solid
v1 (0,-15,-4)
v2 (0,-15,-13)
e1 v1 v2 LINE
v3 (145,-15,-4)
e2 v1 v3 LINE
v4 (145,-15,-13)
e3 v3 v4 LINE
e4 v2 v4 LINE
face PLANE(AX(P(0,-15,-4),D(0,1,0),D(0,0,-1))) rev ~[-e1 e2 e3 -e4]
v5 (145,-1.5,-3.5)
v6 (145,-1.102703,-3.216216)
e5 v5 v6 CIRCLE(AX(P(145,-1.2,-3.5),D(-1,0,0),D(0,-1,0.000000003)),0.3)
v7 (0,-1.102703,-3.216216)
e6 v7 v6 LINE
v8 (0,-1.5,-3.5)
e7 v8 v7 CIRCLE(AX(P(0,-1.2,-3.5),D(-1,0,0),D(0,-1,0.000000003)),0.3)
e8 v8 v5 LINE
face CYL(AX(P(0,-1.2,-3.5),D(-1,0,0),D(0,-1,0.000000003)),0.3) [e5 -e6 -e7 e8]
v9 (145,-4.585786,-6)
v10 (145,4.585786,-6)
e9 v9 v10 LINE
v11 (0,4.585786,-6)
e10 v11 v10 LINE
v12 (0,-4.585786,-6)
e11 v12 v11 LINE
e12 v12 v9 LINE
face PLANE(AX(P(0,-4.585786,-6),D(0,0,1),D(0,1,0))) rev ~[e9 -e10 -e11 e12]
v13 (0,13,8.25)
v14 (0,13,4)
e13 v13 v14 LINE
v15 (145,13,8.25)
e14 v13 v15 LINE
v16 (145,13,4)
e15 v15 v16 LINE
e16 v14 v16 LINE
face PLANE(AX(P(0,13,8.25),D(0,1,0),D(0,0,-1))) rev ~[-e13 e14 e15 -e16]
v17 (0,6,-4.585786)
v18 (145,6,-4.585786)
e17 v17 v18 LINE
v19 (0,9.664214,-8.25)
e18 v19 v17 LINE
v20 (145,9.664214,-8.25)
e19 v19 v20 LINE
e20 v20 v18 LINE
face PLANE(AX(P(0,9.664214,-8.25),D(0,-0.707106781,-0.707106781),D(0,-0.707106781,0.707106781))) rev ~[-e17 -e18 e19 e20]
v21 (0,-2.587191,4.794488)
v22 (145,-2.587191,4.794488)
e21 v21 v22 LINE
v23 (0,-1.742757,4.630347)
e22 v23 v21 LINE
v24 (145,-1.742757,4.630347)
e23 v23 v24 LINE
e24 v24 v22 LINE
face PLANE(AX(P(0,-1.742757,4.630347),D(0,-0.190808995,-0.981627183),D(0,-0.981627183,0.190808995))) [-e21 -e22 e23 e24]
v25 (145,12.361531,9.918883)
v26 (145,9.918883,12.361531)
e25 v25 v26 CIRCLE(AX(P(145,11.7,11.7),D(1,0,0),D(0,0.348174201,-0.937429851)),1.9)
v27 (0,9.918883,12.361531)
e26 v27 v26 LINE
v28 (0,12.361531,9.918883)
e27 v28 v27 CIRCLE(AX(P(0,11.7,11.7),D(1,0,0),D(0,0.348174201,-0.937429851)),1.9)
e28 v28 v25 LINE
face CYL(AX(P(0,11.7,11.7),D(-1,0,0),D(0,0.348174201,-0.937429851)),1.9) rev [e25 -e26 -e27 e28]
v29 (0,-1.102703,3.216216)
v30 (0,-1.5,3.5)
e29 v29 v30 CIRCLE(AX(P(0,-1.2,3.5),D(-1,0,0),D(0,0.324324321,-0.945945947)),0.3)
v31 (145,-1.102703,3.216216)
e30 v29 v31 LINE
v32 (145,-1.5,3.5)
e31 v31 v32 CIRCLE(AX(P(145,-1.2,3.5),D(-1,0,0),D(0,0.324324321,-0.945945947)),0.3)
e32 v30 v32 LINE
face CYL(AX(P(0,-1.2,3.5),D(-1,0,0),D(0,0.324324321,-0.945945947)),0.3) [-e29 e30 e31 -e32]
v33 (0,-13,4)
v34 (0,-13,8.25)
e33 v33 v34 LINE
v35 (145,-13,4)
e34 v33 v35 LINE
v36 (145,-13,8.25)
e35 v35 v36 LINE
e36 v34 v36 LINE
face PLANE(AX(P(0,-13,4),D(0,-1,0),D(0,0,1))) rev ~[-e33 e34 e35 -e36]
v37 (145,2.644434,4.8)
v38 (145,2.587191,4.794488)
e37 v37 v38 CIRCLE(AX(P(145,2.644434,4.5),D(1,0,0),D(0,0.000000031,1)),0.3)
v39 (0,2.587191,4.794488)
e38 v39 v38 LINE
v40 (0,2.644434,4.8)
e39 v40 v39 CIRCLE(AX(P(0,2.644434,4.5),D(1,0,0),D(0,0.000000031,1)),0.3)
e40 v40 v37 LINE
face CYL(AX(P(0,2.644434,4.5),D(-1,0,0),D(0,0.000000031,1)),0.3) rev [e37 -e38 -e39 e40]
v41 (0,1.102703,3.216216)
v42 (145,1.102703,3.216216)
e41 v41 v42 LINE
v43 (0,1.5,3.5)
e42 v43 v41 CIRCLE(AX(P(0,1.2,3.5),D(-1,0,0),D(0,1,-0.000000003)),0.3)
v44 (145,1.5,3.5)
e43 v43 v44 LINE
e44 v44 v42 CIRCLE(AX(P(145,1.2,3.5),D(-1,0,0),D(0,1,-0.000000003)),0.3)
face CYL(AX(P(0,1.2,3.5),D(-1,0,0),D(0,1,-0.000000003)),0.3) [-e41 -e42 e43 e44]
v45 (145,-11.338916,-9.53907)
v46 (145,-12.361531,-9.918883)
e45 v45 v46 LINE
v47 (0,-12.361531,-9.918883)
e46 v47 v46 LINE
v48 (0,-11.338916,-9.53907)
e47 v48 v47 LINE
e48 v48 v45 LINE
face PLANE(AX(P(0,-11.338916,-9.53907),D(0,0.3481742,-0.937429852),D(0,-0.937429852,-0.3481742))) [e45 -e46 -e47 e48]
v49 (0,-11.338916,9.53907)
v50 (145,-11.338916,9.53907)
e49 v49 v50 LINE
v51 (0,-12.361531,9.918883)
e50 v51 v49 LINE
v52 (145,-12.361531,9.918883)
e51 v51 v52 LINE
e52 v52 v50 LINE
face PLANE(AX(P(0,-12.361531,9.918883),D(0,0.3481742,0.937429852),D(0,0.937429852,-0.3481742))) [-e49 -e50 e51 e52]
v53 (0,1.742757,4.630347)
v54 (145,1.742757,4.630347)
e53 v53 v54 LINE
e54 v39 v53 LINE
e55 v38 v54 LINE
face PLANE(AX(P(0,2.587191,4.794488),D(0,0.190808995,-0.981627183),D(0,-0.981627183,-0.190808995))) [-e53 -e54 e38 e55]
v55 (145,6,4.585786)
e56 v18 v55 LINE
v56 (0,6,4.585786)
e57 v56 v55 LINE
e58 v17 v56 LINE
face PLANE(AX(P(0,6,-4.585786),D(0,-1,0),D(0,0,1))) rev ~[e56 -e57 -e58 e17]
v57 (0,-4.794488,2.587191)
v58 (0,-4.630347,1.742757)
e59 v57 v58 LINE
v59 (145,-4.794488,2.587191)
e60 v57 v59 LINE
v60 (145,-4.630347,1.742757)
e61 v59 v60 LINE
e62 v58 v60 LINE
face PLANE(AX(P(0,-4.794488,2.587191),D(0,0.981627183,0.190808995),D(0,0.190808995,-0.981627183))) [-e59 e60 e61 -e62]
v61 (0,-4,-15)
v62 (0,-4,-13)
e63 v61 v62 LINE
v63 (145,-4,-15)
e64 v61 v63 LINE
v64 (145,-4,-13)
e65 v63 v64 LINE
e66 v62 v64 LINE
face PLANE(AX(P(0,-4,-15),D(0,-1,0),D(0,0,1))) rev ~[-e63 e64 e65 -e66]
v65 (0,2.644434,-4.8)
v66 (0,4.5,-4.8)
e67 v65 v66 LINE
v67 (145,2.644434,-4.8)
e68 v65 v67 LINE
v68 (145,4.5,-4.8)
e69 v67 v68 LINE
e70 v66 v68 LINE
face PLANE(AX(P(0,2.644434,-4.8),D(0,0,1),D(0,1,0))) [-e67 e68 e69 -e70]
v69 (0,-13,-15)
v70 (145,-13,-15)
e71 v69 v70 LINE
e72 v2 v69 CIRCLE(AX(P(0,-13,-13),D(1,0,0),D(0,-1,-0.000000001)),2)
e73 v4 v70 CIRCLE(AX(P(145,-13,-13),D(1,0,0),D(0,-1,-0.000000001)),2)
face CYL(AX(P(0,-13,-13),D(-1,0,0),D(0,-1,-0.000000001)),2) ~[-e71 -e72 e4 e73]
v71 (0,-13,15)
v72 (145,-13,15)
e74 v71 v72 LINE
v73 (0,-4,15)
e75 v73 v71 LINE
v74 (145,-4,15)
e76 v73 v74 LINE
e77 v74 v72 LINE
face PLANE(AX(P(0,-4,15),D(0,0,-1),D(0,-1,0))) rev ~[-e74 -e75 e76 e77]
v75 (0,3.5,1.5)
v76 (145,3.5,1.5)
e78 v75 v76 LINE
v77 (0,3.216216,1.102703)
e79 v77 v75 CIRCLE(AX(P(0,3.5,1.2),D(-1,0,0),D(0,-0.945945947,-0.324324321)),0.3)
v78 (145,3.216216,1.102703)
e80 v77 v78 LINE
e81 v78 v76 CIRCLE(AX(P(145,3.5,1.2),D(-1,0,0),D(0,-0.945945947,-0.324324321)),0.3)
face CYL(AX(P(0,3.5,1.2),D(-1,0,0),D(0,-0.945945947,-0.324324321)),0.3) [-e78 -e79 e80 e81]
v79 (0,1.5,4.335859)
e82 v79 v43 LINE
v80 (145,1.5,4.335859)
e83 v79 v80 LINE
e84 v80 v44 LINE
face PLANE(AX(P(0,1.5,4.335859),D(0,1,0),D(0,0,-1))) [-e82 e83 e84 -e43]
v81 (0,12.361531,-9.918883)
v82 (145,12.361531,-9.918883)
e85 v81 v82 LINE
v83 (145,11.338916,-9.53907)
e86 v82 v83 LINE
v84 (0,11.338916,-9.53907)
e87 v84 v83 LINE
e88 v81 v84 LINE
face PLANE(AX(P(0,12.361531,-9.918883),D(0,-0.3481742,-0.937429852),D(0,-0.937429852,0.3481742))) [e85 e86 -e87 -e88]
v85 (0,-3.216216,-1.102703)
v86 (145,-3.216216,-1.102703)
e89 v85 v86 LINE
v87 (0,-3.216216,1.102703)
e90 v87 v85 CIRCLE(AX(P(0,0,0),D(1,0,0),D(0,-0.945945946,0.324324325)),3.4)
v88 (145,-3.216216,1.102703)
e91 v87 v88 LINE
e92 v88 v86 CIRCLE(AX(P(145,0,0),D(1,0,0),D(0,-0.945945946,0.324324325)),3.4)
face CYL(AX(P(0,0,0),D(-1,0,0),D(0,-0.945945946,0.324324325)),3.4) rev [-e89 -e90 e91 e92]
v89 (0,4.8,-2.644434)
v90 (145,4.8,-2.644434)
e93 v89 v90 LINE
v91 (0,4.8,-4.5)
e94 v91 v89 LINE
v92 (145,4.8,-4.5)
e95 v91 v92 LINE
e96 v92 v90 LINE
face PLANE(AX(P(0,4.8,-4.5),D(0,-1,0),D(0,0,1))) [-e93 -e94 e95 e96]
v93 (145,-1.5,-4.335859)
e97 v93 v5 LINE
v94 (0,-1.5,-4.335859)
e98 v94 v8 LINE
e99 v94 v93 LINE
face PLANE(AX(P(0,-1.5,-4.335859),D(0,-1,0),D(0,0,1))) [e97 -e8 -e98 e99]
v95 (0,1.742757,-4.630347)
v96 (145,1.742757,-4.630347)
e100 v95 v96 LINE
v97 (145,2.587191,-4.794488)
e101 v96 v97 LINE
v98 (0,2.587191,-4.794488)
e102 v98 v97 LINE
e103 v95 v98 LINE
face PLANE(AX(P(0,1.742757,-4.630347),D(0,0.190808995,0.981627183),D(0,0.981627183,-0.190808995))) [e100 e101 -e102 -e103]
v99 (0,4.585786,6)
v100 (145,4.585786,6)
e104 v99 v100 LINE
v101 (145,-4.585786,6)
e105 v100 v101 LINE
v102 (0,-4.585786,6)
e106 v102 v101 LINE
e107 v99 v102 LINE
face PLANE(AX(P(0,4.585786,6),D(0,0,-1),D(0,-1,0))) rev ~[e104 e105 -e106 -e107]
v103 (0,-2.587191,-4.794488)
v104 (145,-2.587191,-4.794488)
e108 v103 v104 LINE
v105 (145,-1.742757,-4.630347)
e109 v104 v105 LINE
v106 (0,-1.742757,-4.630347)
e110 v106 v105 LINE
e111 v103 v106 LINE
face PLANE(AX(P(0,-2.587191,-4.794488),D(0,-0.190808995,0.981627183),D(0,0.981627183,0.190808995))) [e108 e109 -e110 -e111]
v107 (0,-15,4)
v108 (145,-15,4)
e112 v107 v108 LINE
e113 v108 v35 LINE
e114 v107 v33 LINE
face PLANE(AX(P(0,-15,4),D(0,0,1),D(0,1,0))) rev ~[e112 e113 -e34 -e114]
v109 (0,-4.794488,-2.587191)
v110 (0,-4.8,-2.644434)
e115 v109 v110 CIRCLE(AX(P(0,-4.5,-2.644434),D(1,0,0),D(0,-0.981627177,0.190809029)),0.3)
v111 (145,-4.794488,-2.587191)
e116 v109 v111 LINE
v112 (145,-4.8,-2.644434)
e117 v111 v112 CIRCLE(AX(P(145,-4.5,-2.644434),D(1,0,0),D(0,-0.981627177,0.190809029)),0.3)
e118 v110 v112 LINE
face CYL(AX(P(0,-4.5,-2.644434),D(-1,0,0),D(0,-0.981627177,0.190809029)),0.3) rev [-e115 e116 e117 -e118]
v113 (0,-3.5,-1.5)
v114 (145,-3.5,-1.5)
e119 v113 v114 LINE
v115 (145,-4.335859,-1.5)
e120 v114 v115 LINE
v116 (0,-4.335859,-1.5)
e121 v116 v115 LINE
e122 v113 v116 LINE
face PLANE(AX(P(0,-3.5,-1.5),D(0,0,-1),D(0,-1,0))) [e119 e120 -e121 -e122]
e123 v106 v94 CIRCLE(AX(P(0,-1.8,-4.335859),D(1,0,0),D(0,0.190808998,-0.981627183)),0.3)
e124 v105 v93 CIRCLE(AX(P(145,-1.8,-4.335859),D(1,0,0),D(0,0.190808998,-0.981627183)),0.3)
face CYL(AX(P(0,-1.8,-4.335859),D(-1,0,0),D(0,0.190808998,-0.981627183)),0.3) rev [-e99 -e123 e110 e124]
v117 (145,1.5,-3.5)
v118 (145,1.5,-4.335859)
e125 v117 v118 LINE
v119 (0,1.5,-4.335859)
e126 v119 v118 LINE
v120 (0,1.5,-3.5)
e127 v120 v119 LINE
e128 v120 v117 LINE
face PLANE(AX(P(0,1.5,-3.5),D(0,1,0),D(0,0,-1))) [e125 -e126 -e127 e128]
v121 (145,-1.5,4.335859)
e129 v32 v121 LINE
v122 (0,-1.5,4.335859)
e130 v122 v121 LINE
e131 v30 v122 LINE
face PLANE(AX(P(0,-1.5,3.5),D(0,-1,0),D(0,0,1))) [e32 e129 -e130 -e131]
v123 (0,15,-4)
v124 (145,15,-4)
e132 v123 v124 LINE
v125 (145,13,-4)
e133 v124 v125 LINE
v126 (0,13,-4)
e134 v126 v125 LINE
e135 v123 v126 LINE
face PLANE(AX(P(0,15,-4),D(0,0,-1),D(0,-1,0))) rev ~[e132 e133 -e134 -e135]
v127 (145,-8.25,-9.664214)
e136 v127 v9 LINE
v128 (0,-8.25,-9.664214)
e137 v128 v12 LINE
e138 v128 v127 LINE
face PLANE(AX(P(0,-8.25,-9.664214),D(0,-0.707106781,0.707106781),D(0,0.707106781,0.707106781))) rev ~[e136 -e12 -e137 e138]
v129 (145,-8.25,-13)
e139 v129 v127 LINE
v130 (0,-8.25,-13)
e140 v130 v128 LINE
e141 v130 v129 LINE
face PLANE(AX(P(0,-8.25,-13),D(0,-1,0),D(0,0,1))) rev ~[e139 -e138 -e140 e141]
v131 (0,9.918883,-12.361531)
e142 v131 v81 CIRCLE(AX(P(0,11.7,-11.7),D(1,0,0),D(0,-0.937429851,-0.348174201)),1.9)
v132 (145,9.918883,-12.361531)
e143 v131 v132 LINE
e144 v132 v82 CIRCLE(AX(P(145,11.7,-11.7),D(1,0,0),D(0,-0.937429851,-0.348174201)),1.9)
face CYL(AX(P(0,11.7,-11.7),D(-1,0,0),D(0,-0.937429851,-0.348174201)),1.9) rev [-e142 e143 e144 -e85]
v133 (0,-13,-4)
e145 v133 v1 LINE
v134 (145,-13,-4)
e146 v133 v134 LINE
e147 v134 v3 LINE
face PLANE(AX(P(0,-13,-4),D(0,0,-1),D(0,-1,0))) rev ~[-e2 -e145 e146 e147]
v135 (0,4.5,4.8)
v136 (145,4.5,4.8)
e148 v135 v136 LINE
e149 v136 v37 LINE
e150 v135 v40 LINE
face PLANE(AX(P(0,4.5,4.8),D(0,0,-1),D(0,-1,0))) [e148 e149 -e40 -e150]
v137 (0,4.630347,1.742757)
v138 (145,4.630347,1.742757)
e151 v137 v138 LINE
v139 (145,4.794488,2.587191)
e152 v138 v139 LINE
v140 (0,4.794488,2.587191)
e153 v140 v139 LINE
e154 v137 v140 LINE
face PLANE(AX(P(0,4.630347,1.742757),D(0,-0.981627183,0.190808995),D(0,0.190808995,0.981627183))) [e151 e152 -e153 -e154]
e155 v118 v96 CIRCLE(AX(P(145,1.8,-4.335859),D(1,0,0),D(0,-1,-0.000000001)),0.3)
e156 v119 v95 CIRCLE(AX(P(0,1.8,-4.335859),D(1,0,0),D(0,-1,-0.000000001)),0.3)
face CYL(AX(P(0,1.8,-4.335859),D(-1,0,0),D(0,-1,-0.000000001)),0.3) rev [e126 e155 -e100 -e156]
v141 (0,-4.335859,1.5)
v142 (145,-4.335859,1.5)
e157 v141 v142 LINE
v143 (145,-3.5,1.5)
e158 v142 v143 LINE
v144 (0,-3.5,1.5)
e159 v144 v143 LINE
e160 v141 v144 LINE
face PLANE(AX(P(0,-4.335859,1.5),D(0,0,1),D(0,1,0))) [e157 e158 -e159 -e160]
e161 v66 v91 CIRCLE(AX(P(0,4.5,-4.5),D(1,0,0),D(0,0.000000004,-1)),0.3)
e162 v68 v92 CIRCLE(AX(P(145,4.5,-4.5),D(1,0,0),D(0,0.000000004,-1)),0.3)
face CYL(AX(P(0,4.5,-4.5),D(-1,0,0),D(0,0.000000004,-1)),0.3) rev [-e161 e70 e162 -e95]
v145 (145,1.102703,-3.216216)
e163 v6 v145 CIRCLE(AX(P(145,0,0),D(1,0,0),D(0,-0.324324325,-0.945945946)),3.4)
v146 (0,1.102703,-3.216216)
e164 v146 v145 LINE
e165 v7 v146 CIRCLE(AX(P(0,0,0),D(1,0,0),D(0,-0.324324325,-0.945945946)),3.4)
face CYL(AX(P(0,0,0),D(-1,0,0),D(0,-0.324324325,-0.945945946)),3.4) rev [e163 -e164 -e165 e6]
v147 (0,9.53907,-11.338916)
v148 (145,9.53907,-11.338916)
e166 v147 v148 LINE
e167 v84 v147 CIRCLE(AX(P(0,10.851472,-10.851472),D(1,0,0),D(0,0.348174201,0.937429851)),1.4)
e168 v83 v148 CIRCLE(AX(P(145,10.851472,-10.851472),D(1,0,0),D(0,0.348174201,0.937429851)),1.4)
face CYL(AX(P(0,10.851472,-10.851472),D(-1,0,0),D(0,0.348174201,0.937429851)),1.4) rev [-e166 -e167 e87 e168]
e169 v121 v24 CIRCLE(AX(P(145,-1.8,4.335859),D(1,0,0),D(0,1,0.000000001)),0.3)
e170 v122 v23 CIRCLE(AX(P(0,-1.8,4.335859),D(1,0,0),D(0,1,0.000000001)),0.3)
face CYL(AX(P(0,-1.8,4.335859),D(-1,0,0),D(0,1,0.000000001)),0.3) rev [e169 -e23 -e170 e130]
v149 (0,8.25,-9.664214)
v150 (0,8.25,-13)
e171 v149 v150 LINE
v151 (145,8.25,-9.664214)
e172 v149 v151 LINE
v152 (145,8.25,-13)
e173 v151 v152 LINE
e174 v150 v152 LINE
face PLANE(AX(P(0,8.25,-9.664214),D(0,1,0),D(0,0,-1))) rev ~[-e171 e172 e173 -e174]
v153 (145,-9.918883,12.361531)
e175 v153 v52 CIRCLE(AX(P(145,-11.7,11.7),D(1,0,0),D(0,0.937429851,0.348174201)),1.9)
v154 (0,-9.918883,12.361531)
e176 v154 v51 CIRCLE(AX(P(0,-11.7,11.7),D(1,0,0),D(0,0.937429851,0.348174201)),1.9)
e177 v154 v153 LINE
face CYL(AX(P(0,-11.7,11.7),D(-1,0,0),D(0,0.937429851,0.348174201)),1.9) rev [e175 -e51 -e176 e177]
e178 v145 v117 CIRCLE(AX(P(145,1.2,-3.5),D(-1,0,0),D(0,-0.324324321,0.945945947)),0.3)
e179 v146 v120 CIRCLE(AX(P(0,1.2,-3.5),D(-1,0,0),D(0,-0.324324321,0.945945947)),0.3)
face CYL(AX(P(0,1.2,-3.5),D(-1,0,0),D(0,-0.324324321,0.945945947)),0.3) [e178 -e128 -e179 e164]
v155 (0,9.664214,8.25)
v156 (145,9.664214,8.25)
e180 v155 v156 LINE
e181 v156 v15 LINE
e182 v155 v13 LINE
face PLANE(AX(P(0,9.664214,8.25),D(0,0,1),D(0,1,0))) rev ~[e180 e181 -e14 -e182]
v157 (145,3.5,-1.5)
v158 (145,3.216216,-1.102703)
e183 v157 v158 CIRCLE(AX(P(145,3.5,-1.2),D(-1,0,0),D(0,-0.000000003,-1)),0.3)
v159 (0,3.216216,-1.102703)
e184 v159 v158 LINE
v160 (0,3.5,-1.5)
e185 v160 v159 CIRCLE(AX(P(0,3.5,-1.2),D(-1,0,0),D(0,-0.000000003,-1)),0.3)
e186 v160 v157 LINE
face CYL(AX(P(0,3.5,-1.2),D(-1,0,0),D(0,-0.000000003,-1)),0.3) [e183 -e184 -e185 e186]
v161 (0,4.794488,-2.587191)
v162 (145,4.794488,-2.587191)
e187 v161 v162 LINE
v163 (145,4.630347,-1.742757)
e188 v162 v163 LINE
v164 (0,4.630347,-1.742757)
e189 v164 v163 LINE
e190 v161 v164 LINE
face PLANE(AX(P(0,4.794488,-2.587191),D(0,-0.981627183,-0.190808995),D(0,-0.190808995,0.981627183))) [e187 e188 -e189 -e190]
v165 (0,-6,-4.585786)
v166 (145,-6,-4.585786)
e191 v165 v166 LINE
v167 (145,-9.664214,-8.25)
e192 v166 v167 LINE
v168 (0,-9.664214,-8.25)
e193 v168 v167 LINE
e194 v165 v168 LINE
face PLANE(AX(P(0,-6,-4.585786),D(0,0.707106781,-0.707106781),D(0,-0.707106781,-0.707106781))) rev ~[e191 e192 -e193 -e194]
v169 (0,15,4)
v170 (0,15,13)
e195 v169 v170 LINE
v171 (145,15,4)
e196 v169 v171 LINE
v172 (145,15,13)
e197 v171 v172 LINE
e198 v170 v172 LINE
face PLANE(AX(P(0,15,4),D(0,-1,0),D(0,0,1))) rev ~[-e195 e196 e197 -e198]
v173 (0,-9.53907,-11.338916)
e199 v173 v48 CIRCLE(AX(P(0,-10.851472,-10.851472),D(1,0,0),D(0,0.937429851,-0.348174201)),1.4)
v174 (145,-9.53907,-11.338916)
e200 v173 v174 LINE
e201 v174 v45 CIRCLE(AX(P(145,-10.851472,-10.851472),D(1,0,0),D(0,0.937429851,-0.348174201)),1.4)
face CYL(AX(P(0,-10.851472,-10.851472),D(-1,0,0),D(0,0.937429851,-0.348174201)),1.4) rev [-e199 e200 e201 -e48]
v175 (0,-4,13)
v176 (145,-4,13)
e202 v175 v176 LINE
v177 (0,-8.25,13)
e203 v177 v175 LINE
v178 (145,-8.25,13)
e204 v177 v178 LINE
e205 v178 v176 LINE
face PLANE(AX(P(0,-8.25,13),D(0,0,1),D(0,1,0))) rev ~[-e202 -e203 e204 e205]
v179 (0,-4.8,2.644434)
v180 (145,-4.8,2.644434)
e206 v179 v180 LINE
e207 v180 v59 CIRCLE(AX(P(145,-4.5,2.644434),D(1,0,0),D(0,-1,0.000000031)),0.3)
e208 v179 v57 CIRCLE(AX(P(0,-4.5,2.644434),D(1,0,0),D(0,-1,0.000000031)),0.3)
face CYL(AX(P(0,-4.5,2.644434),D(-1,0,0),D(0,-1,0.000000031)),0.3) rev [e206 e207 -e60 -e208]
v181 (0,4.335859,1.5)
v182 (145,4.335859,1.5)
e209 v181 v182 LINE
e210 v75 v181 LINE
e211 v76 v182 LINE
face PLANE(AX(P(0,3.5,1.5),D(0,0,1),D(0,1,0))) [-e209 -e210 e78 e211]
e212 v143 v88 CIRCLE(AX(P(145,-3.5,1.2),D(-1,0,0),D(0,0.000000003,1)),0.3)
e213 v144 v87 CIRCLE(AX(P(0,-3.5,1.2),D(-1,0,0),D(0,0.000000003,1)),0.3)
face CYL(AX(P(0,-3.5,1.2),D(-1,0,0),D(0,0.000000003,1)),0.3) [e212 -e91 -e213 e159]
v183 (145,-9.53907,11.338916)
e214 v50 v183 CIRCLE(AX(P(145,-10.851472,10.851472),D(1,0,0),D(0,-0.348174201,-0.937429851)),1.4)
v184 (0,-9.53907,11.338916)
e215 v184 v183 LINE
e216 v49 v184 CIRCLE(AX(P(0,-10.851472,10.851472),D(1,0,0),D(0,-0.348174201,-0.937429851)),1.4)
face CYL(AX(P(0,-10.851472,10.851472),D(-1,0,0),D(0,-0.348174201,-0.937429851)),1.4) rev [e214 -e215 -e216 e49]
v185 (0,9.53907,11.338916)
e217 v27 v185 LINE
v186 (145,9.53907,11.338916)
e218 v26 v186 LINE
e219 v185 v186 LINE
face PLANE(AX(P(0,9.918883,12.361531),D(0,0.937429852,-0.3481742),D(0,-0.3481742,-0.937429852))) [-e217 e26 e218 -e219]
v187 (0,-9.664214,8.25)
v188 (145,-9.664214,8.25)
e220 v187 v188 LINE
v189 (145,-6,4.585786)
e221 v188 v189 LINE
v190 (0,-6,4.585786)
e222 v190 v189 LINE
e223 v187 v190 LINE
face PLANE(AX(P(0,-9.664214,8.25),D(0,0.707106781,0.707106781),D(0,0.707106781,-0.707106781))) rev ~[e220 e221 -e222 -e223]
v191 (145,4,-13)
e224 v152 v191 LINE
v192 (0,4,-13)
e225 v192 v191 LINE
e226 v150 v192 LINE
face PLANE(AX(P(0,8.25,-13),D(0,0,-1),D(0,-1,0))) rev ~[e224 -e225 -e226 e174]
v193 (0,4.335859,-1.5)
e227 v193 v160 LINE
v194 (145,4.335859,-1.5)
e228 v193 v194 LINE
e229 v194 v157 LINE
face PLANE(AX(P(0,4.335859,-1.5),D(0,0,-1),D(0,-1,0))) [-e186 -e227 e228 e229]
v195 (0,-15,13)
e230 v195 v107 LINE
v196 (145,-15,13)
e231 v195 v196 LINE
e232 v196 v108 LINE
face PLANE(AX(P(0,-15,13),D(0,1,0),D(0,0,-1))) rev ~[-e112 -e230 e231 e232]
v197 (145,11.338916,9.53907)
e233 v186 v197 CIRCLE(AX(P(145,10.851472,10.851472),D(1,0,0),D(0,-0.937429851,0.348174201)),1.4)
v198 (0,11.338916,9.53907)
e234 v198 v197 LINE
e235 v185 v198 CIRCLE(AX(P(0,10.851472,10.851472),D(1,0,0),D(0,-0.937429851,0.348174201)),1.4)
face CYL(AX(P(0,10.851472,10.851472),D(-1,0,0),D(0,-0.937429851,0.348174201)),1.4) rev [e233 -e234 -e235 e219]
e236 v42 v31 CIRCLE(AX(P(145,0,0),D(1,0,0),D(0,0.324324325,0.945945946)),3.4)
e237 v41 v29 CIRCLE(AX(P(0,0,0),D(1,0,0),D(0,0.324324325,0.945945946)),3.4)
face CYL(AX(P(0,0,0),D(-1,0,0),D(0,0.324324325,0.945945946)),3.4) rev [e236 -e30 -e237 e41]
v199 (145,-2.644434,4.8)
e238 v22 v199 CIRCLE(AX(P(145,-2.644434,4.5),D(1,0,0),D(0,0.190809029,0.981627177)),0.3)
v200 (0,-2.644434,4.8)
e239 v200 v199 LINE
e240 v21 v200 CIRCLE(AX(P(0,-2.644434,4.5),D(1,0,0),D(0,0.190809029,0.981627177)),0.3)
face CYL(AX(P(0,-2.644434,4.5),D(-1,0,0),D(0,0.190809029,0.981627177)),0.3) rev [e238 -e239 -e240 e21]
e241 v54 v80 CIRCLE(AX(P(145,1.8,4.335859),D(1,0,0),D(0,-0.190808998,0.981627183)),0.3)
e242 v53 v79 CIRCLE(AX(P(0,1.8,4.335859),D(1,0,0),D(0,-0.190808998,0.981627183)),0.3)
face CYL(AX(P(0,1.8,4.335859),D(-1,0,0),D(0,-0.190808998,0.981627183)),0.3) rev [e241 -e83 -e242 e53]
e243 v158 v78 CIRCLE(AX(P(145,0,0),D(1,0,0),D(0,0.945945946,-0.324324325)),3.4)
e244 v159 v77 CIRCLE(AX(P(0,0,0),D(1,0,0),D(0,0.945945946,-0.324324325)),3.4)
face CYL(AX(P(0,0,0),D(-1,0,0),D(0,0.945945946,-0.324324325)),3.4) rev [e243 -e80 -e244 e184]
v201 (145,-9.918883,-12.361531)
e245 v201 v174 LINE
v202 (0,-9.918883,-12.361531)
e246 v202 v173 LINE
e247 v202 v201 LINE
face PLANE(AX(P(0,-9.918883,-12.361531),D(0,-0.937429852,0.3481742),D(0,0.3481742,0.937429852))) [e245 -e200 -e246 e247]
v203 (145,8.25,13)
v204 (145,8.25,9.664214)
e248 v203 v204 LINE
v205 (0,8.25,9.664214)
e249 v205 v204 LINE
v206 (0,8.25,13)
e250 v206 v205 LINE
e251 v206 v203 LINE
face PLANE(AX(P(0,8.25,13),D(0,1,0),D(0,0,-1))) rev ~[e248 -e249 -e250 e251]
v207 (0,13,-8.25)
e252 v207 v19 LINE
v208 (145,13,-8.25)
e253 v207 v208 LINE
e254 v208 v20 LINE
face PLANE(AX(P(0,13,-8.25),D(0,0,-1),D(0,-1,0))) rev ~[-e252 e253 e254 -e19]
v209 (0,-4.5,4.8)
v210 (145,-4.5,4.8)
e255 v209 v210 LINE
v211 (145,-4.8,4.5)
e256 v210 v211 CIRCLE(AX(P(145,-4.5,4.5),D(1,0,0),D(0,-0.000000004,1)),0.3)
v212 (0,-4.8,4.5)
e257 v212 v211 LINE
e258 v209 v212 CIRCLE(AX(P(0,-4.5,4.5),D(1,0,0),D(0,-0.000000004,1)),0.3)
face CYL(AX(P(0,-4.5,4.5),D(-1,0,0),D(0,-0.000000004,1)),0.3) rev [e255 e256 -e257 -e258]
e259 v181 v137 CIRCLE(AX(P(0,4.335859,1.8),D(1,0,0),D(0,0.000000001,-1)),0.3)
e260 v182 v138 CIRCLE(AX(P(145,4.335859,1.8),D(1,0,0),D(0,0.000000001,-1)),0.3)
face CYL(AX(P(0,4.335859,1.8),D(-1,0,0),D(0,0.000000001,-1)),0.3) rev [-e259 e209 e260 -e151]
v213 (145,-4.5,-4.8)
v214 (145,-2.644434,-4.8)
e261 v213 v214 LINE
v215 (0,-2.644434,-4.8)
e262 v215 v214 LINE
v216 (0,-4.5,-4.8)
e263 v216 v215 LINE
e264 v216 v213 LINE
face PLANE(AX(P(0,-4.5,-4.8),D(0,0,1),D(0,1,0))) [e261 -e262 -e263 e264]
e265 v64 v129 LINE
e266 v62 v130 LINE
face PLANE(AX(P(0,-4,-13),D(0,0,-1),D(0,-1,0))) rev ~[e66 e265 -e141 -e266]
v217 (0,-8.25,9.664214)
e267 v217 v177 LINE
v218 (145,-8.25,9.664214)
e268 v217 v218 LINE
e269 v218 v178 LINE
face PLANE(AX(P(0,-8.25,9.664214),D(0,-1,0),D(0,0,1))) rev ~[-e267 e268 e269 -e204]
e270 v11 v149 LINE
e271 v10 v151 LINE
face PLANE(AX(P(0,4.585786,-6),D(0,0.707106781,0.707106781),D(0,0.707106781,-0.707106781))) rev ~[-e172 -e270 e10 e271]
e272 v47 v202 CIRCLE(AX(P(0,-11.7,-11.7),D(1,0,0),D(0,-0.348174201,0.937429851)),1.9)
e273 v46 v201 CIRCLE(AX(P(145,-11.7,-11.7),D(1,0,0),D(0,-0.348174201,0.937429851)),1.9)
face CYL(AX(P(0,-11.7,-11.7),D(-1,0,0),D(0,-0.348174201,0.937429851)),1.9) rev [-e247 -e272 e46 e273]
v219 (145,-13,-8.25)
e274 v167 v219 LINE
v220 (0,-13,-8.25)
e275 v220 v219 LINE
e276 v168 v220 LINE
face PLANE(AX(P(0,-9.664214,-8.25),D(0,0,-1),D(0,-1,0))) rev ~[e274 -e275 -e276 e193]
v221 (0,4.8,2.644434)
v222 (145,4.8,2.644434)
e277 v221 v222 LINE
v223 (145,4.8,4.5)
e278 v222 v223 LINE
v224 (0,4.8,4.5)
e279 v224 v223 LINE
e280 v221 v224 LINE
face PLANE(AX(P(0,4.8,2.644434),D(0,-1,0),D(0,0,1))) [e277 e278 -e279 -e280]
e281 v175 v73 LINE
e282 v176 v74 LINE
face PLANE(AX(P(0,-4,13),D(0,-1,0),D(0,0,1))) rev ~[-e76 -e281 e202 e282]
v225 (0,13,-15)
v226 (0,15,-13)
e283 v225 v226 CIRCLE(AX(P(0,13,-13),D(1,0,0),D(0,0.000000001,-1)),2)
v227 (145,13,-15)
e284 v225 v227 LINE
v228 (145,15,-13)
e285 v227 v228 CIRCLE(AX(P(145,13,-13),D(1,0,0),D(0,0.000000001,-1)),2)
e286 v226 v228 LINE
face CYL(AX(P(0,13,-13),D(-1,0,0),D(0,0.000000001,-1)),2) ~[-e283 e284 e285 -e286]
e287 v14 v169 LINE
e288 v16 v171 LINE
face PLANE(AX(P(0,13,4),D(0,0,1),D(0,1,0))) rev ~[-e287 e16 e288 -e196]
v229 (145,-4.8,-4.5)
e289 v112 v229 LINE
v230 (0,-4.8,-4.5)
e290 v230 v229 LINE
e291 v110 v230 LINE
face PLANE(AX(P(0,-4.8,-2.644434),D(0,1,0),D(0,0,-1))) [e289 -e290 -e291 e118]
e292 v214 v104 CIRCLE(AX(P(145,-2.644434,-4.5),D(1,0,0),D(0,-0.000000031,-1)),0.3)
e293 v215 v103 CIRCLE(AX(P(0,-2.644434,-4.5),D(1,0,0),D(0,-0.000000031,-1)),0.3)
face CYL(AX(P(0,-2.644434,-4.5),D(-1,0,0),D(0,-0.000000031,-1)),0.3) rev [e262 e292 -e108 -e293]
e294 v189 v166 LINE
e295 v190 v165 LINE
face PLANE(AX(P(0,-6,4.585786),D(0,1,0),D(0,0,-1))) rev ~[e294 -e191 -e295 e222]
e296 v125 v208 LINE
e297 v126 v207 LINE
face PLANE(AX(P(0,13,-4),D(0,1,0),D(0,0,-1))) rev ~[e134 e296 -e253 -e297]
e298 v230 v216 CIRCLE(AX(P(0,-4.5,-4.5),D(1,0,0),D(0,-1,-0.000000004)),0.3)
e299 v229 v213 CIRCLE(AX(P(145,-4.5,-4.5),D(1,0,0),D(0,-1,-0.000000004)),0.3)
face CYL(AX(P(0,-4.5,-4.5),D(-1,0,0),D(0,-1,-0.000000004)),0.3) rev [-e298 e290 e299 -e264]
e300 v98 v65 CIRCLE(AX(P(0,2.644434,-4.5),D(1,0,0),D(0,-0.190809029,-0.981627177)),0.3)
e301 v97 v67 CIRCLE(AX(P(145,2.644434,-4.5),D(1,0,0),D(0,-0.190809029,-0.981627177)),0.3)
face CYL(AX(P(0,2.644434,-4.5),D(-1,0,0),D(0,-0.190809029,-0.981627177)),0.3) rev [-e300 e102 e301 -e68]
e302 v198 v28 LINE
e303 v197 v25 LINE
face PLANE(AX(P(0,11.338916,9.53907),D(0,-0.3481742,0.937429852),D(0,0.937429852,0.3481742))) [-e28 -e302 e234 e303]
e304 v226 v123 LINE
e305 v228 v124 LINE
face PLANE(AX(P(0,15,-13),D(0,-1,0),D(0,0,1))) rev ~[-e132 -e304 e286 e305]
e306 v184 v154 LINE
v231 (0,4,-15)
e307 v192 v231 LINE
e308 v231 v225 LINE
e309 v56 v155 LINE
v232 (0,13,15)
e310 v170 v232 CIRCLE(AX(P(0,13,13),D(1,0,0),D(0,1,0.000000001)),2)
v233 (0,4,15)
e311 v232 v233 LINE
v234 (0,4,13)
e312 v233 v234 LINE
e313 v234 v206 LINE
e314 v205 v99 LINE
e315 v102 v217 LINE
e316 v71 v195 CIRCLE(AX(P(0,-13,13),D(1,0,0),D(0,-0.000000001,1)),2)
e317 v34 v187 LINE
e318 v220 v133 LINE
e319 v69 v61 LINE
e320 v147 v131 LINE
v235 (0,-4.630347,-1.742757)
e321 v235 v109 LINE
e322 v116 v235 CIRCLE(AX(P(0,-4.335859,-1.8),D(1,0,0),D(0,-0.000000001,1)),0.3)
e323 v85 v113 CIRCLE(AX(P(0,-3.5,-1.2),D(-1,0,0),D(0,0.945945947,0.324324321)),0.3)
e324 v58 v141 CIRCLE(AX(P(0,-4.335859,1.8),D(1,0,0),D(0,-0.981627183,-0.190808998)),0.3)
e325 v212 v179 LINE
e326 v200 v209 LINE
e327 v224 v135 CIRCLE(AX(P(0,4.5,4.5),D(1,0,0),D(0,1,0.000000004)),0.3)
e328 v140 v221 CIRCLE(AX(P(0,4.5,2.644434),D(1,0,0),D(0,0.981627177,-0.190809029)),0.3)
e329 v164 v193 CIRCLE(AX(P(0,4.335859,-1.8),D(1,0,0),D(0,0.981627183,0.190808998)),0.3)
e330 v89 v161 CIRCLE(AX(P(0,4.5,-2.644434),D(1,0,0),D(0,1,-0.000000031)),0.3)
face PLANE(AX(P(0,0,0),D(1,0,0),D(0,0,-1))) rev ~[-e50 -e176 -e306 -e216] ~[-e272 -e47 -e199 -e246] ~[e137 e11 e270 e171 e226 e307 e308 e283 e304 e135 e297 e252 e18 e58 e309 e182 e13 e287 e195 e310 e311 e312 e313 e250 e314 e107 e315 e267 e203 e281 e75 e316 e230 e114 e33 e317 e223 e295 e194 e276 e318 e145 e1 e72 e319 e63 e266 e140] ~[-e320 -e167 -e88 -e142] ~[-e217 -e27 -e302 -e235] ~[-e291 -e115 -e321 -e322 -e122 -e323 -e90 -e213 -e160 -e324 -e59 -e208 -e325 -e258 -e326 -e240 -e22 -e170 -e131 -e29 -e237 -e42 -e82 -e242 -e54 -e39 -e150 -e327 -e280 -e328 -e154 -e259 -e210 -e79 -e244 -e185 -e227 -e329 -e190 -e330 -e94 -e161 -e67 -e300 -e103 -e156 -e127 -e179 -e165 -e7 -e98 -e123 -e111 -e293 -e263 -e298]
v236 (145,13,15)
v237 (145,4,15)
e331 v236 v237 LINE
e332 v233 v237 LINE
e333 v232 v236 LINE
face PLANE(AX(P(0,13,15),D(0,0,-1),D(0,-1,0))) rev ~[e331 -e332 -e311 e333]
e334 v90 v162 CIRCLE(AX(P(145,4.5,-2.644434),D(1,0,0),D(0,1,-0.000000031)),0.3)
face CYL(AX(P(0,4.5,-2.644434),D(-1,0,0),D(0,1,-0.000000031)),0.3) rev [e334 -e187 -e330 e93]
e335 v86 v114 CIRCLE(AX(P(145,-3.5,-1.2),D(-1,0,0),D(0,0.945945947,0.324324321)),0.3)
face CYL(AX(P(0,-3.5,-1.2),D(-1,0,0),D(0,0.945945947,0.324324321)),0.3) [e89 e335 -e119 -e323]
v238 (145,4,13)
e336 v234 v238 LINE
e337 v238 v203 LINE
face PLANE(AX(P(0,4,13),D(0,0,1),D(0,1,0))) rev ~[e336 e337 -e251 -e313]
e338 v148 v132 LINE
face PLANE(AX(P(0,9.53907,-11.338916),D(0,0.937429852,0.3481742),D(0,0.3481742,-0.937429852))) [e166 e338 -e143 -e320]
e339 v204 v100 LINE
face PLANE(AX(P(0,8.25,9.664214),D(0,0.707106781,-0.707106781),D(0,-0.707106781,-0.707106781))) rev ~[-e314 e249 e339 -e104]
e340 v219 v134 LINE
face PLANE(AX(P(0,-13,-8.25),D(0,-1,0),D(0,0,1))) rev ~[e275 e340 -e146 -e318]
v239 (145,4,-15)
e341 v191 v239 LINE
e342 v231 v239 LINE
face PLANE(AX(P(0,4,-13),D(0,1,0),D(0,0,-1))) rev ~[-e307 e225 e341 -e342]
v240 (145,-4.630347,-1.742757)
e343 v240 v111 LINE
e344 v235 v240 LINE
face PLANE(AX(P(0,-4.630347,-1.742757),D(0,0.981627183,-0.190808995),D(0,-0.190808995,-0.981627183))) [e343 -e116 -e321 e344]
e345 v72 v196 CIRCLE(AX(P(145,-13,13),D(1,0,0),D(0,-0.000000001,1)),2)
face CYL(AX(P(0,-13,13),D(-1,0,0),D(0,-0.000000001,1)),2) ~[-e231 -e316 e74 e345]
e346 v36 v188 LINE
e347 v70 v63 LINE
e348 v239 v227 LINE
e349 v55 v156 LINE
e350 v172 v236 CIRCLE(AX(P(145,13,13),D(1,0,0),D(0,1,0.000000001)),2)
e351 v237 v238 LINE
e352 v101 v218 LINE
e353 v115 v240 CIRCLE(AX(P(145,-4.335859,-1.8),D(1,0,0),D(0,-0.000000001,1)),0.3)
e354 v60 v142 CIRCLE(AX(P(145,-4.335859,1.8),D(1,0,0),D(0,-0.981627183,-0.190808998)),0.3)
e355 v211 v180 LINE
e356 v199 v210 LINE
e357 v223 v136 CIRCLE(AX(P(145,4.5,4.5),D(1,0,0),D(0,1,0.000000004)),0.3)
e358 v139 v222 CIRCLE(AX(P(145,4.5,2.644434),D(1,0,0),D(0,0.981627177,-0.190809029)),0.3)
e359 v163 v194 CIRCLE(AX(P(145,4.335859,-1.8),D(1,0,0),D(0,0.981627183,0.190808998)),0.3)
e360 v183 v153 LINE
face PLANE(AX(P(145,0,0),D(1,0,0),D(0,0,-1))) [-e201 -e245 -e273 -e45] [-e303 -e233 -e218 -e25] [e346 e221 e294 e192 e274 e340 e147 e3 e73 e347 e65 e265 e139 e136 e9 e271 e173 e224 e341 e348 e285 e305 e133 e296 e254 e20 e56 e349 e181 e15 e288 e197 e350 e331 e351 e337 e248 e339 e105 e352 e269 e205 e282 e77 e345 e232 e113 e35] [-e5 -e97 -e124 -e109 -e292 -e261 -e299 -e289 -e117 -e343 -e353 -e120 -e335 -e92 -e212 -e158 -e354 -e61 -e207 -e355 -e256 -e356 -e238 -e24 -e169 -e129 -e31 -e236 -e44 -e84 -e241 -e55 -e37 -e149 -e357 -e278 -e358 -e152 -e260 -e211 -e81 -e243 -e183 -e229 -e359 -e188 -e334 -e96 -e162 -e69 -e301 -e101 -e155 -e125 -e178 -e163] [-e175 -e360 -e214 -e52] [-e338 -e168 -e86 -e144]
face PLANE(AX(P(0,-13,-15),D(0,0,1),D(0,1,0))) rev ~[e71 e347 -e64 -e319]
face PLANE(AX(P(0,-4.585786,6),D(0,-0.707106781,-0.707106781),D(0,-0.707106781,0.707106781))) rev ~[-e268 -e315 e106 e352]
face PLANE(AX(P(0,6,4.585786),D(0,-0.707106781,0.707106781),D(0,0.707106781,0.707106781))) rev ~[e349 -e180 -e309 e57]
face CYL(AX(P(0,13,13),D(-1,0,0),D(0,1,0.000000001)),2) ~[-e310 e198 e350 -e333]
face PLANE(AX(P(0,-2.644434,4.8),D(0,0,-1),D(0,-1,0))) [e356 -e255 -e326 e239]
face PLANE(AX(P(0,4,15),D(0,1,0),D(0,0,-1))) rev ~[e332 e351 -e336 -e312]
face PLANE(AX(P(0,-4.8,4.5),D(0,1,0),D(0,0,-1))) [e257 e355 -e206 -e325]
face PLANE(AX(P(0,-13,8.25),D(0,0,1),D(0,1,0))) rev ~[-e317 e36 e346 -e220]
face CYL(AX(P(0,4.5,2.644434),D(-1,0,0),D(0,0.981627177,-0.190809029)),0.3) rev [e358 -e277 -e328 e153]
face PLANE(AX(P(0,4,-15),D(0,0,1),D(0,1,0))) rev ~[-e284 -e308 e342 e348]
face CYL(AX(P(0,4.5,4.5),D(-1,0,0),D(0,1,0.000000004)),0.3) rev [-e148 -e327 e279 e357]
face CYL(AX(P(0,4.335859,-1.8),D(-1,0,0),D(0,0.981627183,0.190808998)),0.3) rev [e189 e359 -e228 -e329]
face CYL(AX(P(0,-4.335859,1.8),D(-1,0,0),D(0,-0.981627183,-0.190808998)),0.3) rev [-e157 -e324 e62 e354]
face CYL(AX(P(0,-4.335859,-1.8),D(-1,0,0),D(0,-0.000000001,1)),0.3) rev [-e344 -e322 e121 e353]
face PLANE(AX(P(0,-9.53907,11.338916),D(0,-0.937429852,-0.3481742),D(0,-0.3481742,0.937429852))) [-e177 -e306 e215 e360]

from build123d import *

# Parameters (mm, degrees)
BOSS_EXTRUDE1_DEPTH = 145


with BuildPart() as part:
    # Sketch1 → Boss-Extrude1 (new body)
    with BuildSketch(Plane(origin=(0, 0, 0), x_dir=(0, 0, -1), z_dir=(1, 0, 0))):
        with BuildLine():
            Line((-15, 13), (-15, 4))
            Line((-15, 4), (-13, 4))
            Line((-13, 4), (-13, 8.25))
            Line((-13, 8.25), (-9.664213562, 8.25))
            Line((-9.664213562, 8.25), (-6, 4.585786438))
            Line((-6, 4.585786438), (-6, -4.585786438))
            Line((-6, -4.585786438), (-9.664213562, -8.25))
            Line((-9.664213562, -8.25), (-13, -8.25))
            Line((-13, -8.25), (-13, -4))
            Line((-13, -4), (-15, -4))
            Line((-15, -4), (-15, -13))
            ThreePointArc((-15, -13), (-14.414213562, -14.414213562), (-13, -15))
            Line((-13, -15), (-4, -15))
            Line((-4, -15), (-4, -13))
            Line((-4, -13), (-8.25, -13))
            Line((-8.25, -13), (-8.25, -9.664213562))
            Line((-8.25, -9.664213562), (-4.585786438, -6))
            Line((-4.585786438, -6), (4.585786438, -6))
            Line((4.585786438, -6), (8.25, -9.664213562))
            Line((8.25, -9.664213562), (8.25, -13))
            Line((8.25, -13), (4, -13))
            Line((4, -13), (4, -15))
            Line((4, -15), (13, -15))
            ThreePointArc((13, -15), (14.414213562, -14.414213562), (15, -13))
            Line((15, -13), (15, -4))
            Line((15, -4), (13, -4))
            Line((13, -4), (13, -8.25))
            Line((13, -8.25), (9.664213562, -8.25))
            Line((9.664213562, -8.25), (6, -4.585786438))
            Line((6, -4.585786438), (6, 4.585786438))
            Line((6, 4.585786438), (9.664213562, 8.25))
            Line((9.664213562, 8.25), (13, 8.25))
            Line((13, 8.25), (13, 4))
            Line((13, 4), (15, 4))
            Line((15, 4), (15, 13))
            ThreePointArc((15, 13), (14.414213562, 14.414213562), (13, 15))
            Line((13, 15), (4, 15))
            Line((4, 15), (4, 13))
            Line((4, 13), (8.25, 13))
            Line((8.25, 13), (8.25, 9.664213562))
            Line((8.25, 9.664213562), (4.585786438, 6))
            Line((4.585786438, 6), (-4.585786438, 6))
            Line((-4.585786438, 6), (-8.25, 9.664213562))
            Line((-8.25, 9.664213562), (-8.25, 13))
            Line((-8.25, 13), (-4, 13))
            Line((-4, 13), (-4, 15))
            Line((-4, 15), (-13, 15))
            ThreePointArc((-13, 15), (-14.414213562, 14.414213562), (-15, 13))
        make_face()
        with BuildLine():
            Line((-9.539070071, 11.338915743), (-9.918883282, 12.361530981))
            ThreePointArc((-9.918883282, 12.361530981), (-13.043502884, 13.043502884), (-12.361530981, 9.918883282))
            Line((-12.361530981, 9.918883282), (-11.338915743, 9.539070071))
            ThreePointArc((-11.338915743, 9.539070071), (-9.861522369, 9.861522369), (-9.539070071, 11.338915743))
        make_face(mode=Mode.SUBTRACT)
        with BuildLine():
            Line((9.918883282, 12.361530981), (9.539070071, 11.338915743))
            ThreePointArc((9.539070071, 11.338915743), (9.861522369, 9.861522369), (11.338915743, 9.539070071))
            Line((11.338915743, 9.539070071), (12.361530981, 9.918883282))
            ThreePointArc((12.361530981, 9.918883282), (13.043502884, 13.043502884), (9.918883282, 12.361530981))
        make_face(mode=Mode.SUBTRACT)
        with BuildLine():
            Line((12.361530981, -9.918883282), (11.338915743, -9.539070071))
            ThreePointArc((11.338915743, -9.539070071), (9.861522369, -9.861522369), (9.539070071, -11.338915743))
            Line((9.539070071, -11.338915743), (9.918883282, -12.361530981))
            ThreePointArc((9.918883282, -12.361530981), (13.043502884, -13.043502884), (12.361530981, -9.918883282))
        make_face(mode=Mode.SUBTRACT)
        with BuildLine():
            Line((-11.338915743, -9.539070071), (-12.361530981, -9.918883282))
            ThreePointArc((-12.361530981, -9.918883282), (-13.043502884, -13.043502884), (-9.918883282, -12.361530981))
            Line((-9.918883282, -12.361530981), (-9.539070071, -11.338915743))
            ThreePointArc((-9.539070071, -11.338915743), (-9.861522369, -9.861522369), (-11.338915743, -9.539070071))
        make_face(mode=Mode.SUBTRACT)
        with BuildLine():
            Line((-4.8, -2.644433572), (-4.8, -4.5))
            ThreePointArc((-4.8, -4.5), (-4.712132034, -4.712132034), (-4.5, -4.8))
            Line((-4.5, -4.8), (-2.644433572, -4.8))
            ThreePointArc((-2.644433572, -4.8), (-2.615679847, -4.79861886), (-2.587190874, -4.794488155))
            Line((-2.587190874, -4.794488155), (-1.742757301, -4.630346896))
            ThreePointArc((-1.742757301, -4.630346896), (-1.568512625, -4.526682207), (-1.5, -4.335858741))
            Line((-1.5, -4.335858741), (-1.5, -3.5))
            ThreePointArc((-1.5, -3.5), (-1.374371458, -3.255879959), (-1.102702703, -3.216216216))
            ThreePointArc((-1.102702703, -3.216216216), (0, -3.4), (1.102702703, -3.216216216))
            ThreePointArc((1.102702703, -3.216216216), (1.374371458, -3.255879959), (1.5, -3.5))
            Line((1.5, -3.5), (1.5, -4.335858741))
            ThreePointArc((1.5, -4.335858741), (1.568512625, -4.526682207), (1.742757301, -4.630346896))
            Line((1.742757301, -4.630346896), (2.587190874, -4.794488155))
            ThreePointArc((2.587190874, -4.794488155), (2.615679847, -4.79861886), (2.644433572, -4.8))
            Line((2.644433572, -4.8), (4.5, -4.8))
            ThreePointArc((4.5, -4.8), (4.712132034, -4.712132034), (4.8, -4.5))
            Line((4.8, -4.5), (4.8, -2.644433572))
            ThreePointArc((4.8, -2.644433572), (4.79861886, -2.615679847), (4.794488155, -2.587190874))
            Line((4.794488155, -2.587190874), (4.630346896, -1.742757301))
            ThreePointArc((4.630346896, -1.742757301), (4.526682207, -1.568512625), (4.335858741, -1.5))
            Line((4.335858741, -1.5), (3.5, -1.5))
            ThreePointArc((3.5, -1.5), (3.255879959, -1.374371458), (3.216216216, -1.102702703))
            ThreePointArc((3.216216216, -1.102702703), (3.4, 0), (3.216216216, 1.102702703))
            ThreePointArc((3.216216216, 1.102702703), (3.255879959, 1.374371458), (3.5, 1.5))
            Line((3.5, 1.5), (4.335858741, 1.5))
            ThreePointArc((4.335858741, 1.5), (4.526682207, 1.568512625), (4.630346896, 1.742757301))
            Line((4.630346896, 1.742757301), (4.794488155, 2.587190874))
            ThreePointArc((4.794488155, 2.587190874), (4.79861886, 2.615679847), (4.8, 2.644433572))
            Line((4.8, 2.644433572), (4.8, 4.5))
            ThreePointArc((4.8, 4.5), (4.712132034, 4.712132034), (4.5, 4.8))
            Line((4.5, 4.8), (2.644433572, 4.8))
            ThreePointArc((2.644433572, 4.8), (2.615679847, 4.79861886), (2.587190874, 4.794488155))
            Line((2.587190874, 4.794488155), (1.742757301, 4.630346896))
            ThreePointArc((1.742757301, 4.630346896), (1.568512625, 4.526682207), (1.5, 4.335858741))
            Line((1.5, 4.335858741), (1.5, 3.5))
            ThreePointArc((1.5, 3.5), (1.374371458, 3.255879959), (1.102702703, 3.216216216))
            ThreePointArc((1.102702703, 3.216216216), (0, 3.4), (-1.102702703, 3.216216216))
            ThreePointArc((-1.102702703, 3.216216216), (-1.374371458, 3.255879959), (-1.5, 3.5))
            Line((-1.5, 3.5), (-1.5, 4.335858741))
            ThreePointArc((-1.5, 4.335858741), (-1.568512625, 4.526682207), (-1.742757301, 4.630346896))
            Line((-1.742757301, 4.630346896), (-2.587190874, 4.794488155))
            ThreePointArc((-2.587190874, 4.794488155), (-2.615679847, 4.79861886), (-2.644433572, 4.8))
            Line((-2.644433572, 4.8), (-4.5, 4.8))
            ThreePointArc((-4.5, 4.8), (-4.712132034, 4.712132034), (-4.8, 4.5))
            Line((-4.8, 4.5), (-4.8, 2.644433572))
            ThreePointArc((-4.8, 2.644433572), (-4.79861886, 2.615679847), (-4.794488155, 2.587190874))
            Line((-4.794488155, 2.587190874), (-4.630346896, 1.742757301))
            ThreePointArc((-4.630346896, 1.742757301), (-4.526682207, 1.568512625), (-4.335858741, 1.5))
            Line((-4.335858741, 1.5), (-3.5, 1.5))
            ThreePointArc((-3.5, 1.5), (-3.255879959, 1.374371458), (-3.216216216, 1.102702703))
            ThreePointArc((-3.216216216, 1.102702703), (-3.4, 0), (-3.216216216, -1.102702703))
            ThreePointArc((-3.216216216, -1.102702703), (-3.255879959, -1.374371458), (-3.5, -1.5))
            Line((-3.5, -1.5), (-4.335858741, -1.5))
            ThreePointArc((-4.335858741, -1.5), (-4.526682207, -1.568512625), (-4.630346896, -1.742757301))
            Line((-4.630346896, -1.742757301), (-4.794488155, -2.587190874))
            ThreePointArc((-4.794488155, -2.587190874), (-4.79861886, -2.615679847), (-4.8, -2.644433572))
        make_face(mode=Mode.SUBTRACT)
    extrude(amount=BOSS_EXTRUDE1_DEPTH)


solid = part.part
